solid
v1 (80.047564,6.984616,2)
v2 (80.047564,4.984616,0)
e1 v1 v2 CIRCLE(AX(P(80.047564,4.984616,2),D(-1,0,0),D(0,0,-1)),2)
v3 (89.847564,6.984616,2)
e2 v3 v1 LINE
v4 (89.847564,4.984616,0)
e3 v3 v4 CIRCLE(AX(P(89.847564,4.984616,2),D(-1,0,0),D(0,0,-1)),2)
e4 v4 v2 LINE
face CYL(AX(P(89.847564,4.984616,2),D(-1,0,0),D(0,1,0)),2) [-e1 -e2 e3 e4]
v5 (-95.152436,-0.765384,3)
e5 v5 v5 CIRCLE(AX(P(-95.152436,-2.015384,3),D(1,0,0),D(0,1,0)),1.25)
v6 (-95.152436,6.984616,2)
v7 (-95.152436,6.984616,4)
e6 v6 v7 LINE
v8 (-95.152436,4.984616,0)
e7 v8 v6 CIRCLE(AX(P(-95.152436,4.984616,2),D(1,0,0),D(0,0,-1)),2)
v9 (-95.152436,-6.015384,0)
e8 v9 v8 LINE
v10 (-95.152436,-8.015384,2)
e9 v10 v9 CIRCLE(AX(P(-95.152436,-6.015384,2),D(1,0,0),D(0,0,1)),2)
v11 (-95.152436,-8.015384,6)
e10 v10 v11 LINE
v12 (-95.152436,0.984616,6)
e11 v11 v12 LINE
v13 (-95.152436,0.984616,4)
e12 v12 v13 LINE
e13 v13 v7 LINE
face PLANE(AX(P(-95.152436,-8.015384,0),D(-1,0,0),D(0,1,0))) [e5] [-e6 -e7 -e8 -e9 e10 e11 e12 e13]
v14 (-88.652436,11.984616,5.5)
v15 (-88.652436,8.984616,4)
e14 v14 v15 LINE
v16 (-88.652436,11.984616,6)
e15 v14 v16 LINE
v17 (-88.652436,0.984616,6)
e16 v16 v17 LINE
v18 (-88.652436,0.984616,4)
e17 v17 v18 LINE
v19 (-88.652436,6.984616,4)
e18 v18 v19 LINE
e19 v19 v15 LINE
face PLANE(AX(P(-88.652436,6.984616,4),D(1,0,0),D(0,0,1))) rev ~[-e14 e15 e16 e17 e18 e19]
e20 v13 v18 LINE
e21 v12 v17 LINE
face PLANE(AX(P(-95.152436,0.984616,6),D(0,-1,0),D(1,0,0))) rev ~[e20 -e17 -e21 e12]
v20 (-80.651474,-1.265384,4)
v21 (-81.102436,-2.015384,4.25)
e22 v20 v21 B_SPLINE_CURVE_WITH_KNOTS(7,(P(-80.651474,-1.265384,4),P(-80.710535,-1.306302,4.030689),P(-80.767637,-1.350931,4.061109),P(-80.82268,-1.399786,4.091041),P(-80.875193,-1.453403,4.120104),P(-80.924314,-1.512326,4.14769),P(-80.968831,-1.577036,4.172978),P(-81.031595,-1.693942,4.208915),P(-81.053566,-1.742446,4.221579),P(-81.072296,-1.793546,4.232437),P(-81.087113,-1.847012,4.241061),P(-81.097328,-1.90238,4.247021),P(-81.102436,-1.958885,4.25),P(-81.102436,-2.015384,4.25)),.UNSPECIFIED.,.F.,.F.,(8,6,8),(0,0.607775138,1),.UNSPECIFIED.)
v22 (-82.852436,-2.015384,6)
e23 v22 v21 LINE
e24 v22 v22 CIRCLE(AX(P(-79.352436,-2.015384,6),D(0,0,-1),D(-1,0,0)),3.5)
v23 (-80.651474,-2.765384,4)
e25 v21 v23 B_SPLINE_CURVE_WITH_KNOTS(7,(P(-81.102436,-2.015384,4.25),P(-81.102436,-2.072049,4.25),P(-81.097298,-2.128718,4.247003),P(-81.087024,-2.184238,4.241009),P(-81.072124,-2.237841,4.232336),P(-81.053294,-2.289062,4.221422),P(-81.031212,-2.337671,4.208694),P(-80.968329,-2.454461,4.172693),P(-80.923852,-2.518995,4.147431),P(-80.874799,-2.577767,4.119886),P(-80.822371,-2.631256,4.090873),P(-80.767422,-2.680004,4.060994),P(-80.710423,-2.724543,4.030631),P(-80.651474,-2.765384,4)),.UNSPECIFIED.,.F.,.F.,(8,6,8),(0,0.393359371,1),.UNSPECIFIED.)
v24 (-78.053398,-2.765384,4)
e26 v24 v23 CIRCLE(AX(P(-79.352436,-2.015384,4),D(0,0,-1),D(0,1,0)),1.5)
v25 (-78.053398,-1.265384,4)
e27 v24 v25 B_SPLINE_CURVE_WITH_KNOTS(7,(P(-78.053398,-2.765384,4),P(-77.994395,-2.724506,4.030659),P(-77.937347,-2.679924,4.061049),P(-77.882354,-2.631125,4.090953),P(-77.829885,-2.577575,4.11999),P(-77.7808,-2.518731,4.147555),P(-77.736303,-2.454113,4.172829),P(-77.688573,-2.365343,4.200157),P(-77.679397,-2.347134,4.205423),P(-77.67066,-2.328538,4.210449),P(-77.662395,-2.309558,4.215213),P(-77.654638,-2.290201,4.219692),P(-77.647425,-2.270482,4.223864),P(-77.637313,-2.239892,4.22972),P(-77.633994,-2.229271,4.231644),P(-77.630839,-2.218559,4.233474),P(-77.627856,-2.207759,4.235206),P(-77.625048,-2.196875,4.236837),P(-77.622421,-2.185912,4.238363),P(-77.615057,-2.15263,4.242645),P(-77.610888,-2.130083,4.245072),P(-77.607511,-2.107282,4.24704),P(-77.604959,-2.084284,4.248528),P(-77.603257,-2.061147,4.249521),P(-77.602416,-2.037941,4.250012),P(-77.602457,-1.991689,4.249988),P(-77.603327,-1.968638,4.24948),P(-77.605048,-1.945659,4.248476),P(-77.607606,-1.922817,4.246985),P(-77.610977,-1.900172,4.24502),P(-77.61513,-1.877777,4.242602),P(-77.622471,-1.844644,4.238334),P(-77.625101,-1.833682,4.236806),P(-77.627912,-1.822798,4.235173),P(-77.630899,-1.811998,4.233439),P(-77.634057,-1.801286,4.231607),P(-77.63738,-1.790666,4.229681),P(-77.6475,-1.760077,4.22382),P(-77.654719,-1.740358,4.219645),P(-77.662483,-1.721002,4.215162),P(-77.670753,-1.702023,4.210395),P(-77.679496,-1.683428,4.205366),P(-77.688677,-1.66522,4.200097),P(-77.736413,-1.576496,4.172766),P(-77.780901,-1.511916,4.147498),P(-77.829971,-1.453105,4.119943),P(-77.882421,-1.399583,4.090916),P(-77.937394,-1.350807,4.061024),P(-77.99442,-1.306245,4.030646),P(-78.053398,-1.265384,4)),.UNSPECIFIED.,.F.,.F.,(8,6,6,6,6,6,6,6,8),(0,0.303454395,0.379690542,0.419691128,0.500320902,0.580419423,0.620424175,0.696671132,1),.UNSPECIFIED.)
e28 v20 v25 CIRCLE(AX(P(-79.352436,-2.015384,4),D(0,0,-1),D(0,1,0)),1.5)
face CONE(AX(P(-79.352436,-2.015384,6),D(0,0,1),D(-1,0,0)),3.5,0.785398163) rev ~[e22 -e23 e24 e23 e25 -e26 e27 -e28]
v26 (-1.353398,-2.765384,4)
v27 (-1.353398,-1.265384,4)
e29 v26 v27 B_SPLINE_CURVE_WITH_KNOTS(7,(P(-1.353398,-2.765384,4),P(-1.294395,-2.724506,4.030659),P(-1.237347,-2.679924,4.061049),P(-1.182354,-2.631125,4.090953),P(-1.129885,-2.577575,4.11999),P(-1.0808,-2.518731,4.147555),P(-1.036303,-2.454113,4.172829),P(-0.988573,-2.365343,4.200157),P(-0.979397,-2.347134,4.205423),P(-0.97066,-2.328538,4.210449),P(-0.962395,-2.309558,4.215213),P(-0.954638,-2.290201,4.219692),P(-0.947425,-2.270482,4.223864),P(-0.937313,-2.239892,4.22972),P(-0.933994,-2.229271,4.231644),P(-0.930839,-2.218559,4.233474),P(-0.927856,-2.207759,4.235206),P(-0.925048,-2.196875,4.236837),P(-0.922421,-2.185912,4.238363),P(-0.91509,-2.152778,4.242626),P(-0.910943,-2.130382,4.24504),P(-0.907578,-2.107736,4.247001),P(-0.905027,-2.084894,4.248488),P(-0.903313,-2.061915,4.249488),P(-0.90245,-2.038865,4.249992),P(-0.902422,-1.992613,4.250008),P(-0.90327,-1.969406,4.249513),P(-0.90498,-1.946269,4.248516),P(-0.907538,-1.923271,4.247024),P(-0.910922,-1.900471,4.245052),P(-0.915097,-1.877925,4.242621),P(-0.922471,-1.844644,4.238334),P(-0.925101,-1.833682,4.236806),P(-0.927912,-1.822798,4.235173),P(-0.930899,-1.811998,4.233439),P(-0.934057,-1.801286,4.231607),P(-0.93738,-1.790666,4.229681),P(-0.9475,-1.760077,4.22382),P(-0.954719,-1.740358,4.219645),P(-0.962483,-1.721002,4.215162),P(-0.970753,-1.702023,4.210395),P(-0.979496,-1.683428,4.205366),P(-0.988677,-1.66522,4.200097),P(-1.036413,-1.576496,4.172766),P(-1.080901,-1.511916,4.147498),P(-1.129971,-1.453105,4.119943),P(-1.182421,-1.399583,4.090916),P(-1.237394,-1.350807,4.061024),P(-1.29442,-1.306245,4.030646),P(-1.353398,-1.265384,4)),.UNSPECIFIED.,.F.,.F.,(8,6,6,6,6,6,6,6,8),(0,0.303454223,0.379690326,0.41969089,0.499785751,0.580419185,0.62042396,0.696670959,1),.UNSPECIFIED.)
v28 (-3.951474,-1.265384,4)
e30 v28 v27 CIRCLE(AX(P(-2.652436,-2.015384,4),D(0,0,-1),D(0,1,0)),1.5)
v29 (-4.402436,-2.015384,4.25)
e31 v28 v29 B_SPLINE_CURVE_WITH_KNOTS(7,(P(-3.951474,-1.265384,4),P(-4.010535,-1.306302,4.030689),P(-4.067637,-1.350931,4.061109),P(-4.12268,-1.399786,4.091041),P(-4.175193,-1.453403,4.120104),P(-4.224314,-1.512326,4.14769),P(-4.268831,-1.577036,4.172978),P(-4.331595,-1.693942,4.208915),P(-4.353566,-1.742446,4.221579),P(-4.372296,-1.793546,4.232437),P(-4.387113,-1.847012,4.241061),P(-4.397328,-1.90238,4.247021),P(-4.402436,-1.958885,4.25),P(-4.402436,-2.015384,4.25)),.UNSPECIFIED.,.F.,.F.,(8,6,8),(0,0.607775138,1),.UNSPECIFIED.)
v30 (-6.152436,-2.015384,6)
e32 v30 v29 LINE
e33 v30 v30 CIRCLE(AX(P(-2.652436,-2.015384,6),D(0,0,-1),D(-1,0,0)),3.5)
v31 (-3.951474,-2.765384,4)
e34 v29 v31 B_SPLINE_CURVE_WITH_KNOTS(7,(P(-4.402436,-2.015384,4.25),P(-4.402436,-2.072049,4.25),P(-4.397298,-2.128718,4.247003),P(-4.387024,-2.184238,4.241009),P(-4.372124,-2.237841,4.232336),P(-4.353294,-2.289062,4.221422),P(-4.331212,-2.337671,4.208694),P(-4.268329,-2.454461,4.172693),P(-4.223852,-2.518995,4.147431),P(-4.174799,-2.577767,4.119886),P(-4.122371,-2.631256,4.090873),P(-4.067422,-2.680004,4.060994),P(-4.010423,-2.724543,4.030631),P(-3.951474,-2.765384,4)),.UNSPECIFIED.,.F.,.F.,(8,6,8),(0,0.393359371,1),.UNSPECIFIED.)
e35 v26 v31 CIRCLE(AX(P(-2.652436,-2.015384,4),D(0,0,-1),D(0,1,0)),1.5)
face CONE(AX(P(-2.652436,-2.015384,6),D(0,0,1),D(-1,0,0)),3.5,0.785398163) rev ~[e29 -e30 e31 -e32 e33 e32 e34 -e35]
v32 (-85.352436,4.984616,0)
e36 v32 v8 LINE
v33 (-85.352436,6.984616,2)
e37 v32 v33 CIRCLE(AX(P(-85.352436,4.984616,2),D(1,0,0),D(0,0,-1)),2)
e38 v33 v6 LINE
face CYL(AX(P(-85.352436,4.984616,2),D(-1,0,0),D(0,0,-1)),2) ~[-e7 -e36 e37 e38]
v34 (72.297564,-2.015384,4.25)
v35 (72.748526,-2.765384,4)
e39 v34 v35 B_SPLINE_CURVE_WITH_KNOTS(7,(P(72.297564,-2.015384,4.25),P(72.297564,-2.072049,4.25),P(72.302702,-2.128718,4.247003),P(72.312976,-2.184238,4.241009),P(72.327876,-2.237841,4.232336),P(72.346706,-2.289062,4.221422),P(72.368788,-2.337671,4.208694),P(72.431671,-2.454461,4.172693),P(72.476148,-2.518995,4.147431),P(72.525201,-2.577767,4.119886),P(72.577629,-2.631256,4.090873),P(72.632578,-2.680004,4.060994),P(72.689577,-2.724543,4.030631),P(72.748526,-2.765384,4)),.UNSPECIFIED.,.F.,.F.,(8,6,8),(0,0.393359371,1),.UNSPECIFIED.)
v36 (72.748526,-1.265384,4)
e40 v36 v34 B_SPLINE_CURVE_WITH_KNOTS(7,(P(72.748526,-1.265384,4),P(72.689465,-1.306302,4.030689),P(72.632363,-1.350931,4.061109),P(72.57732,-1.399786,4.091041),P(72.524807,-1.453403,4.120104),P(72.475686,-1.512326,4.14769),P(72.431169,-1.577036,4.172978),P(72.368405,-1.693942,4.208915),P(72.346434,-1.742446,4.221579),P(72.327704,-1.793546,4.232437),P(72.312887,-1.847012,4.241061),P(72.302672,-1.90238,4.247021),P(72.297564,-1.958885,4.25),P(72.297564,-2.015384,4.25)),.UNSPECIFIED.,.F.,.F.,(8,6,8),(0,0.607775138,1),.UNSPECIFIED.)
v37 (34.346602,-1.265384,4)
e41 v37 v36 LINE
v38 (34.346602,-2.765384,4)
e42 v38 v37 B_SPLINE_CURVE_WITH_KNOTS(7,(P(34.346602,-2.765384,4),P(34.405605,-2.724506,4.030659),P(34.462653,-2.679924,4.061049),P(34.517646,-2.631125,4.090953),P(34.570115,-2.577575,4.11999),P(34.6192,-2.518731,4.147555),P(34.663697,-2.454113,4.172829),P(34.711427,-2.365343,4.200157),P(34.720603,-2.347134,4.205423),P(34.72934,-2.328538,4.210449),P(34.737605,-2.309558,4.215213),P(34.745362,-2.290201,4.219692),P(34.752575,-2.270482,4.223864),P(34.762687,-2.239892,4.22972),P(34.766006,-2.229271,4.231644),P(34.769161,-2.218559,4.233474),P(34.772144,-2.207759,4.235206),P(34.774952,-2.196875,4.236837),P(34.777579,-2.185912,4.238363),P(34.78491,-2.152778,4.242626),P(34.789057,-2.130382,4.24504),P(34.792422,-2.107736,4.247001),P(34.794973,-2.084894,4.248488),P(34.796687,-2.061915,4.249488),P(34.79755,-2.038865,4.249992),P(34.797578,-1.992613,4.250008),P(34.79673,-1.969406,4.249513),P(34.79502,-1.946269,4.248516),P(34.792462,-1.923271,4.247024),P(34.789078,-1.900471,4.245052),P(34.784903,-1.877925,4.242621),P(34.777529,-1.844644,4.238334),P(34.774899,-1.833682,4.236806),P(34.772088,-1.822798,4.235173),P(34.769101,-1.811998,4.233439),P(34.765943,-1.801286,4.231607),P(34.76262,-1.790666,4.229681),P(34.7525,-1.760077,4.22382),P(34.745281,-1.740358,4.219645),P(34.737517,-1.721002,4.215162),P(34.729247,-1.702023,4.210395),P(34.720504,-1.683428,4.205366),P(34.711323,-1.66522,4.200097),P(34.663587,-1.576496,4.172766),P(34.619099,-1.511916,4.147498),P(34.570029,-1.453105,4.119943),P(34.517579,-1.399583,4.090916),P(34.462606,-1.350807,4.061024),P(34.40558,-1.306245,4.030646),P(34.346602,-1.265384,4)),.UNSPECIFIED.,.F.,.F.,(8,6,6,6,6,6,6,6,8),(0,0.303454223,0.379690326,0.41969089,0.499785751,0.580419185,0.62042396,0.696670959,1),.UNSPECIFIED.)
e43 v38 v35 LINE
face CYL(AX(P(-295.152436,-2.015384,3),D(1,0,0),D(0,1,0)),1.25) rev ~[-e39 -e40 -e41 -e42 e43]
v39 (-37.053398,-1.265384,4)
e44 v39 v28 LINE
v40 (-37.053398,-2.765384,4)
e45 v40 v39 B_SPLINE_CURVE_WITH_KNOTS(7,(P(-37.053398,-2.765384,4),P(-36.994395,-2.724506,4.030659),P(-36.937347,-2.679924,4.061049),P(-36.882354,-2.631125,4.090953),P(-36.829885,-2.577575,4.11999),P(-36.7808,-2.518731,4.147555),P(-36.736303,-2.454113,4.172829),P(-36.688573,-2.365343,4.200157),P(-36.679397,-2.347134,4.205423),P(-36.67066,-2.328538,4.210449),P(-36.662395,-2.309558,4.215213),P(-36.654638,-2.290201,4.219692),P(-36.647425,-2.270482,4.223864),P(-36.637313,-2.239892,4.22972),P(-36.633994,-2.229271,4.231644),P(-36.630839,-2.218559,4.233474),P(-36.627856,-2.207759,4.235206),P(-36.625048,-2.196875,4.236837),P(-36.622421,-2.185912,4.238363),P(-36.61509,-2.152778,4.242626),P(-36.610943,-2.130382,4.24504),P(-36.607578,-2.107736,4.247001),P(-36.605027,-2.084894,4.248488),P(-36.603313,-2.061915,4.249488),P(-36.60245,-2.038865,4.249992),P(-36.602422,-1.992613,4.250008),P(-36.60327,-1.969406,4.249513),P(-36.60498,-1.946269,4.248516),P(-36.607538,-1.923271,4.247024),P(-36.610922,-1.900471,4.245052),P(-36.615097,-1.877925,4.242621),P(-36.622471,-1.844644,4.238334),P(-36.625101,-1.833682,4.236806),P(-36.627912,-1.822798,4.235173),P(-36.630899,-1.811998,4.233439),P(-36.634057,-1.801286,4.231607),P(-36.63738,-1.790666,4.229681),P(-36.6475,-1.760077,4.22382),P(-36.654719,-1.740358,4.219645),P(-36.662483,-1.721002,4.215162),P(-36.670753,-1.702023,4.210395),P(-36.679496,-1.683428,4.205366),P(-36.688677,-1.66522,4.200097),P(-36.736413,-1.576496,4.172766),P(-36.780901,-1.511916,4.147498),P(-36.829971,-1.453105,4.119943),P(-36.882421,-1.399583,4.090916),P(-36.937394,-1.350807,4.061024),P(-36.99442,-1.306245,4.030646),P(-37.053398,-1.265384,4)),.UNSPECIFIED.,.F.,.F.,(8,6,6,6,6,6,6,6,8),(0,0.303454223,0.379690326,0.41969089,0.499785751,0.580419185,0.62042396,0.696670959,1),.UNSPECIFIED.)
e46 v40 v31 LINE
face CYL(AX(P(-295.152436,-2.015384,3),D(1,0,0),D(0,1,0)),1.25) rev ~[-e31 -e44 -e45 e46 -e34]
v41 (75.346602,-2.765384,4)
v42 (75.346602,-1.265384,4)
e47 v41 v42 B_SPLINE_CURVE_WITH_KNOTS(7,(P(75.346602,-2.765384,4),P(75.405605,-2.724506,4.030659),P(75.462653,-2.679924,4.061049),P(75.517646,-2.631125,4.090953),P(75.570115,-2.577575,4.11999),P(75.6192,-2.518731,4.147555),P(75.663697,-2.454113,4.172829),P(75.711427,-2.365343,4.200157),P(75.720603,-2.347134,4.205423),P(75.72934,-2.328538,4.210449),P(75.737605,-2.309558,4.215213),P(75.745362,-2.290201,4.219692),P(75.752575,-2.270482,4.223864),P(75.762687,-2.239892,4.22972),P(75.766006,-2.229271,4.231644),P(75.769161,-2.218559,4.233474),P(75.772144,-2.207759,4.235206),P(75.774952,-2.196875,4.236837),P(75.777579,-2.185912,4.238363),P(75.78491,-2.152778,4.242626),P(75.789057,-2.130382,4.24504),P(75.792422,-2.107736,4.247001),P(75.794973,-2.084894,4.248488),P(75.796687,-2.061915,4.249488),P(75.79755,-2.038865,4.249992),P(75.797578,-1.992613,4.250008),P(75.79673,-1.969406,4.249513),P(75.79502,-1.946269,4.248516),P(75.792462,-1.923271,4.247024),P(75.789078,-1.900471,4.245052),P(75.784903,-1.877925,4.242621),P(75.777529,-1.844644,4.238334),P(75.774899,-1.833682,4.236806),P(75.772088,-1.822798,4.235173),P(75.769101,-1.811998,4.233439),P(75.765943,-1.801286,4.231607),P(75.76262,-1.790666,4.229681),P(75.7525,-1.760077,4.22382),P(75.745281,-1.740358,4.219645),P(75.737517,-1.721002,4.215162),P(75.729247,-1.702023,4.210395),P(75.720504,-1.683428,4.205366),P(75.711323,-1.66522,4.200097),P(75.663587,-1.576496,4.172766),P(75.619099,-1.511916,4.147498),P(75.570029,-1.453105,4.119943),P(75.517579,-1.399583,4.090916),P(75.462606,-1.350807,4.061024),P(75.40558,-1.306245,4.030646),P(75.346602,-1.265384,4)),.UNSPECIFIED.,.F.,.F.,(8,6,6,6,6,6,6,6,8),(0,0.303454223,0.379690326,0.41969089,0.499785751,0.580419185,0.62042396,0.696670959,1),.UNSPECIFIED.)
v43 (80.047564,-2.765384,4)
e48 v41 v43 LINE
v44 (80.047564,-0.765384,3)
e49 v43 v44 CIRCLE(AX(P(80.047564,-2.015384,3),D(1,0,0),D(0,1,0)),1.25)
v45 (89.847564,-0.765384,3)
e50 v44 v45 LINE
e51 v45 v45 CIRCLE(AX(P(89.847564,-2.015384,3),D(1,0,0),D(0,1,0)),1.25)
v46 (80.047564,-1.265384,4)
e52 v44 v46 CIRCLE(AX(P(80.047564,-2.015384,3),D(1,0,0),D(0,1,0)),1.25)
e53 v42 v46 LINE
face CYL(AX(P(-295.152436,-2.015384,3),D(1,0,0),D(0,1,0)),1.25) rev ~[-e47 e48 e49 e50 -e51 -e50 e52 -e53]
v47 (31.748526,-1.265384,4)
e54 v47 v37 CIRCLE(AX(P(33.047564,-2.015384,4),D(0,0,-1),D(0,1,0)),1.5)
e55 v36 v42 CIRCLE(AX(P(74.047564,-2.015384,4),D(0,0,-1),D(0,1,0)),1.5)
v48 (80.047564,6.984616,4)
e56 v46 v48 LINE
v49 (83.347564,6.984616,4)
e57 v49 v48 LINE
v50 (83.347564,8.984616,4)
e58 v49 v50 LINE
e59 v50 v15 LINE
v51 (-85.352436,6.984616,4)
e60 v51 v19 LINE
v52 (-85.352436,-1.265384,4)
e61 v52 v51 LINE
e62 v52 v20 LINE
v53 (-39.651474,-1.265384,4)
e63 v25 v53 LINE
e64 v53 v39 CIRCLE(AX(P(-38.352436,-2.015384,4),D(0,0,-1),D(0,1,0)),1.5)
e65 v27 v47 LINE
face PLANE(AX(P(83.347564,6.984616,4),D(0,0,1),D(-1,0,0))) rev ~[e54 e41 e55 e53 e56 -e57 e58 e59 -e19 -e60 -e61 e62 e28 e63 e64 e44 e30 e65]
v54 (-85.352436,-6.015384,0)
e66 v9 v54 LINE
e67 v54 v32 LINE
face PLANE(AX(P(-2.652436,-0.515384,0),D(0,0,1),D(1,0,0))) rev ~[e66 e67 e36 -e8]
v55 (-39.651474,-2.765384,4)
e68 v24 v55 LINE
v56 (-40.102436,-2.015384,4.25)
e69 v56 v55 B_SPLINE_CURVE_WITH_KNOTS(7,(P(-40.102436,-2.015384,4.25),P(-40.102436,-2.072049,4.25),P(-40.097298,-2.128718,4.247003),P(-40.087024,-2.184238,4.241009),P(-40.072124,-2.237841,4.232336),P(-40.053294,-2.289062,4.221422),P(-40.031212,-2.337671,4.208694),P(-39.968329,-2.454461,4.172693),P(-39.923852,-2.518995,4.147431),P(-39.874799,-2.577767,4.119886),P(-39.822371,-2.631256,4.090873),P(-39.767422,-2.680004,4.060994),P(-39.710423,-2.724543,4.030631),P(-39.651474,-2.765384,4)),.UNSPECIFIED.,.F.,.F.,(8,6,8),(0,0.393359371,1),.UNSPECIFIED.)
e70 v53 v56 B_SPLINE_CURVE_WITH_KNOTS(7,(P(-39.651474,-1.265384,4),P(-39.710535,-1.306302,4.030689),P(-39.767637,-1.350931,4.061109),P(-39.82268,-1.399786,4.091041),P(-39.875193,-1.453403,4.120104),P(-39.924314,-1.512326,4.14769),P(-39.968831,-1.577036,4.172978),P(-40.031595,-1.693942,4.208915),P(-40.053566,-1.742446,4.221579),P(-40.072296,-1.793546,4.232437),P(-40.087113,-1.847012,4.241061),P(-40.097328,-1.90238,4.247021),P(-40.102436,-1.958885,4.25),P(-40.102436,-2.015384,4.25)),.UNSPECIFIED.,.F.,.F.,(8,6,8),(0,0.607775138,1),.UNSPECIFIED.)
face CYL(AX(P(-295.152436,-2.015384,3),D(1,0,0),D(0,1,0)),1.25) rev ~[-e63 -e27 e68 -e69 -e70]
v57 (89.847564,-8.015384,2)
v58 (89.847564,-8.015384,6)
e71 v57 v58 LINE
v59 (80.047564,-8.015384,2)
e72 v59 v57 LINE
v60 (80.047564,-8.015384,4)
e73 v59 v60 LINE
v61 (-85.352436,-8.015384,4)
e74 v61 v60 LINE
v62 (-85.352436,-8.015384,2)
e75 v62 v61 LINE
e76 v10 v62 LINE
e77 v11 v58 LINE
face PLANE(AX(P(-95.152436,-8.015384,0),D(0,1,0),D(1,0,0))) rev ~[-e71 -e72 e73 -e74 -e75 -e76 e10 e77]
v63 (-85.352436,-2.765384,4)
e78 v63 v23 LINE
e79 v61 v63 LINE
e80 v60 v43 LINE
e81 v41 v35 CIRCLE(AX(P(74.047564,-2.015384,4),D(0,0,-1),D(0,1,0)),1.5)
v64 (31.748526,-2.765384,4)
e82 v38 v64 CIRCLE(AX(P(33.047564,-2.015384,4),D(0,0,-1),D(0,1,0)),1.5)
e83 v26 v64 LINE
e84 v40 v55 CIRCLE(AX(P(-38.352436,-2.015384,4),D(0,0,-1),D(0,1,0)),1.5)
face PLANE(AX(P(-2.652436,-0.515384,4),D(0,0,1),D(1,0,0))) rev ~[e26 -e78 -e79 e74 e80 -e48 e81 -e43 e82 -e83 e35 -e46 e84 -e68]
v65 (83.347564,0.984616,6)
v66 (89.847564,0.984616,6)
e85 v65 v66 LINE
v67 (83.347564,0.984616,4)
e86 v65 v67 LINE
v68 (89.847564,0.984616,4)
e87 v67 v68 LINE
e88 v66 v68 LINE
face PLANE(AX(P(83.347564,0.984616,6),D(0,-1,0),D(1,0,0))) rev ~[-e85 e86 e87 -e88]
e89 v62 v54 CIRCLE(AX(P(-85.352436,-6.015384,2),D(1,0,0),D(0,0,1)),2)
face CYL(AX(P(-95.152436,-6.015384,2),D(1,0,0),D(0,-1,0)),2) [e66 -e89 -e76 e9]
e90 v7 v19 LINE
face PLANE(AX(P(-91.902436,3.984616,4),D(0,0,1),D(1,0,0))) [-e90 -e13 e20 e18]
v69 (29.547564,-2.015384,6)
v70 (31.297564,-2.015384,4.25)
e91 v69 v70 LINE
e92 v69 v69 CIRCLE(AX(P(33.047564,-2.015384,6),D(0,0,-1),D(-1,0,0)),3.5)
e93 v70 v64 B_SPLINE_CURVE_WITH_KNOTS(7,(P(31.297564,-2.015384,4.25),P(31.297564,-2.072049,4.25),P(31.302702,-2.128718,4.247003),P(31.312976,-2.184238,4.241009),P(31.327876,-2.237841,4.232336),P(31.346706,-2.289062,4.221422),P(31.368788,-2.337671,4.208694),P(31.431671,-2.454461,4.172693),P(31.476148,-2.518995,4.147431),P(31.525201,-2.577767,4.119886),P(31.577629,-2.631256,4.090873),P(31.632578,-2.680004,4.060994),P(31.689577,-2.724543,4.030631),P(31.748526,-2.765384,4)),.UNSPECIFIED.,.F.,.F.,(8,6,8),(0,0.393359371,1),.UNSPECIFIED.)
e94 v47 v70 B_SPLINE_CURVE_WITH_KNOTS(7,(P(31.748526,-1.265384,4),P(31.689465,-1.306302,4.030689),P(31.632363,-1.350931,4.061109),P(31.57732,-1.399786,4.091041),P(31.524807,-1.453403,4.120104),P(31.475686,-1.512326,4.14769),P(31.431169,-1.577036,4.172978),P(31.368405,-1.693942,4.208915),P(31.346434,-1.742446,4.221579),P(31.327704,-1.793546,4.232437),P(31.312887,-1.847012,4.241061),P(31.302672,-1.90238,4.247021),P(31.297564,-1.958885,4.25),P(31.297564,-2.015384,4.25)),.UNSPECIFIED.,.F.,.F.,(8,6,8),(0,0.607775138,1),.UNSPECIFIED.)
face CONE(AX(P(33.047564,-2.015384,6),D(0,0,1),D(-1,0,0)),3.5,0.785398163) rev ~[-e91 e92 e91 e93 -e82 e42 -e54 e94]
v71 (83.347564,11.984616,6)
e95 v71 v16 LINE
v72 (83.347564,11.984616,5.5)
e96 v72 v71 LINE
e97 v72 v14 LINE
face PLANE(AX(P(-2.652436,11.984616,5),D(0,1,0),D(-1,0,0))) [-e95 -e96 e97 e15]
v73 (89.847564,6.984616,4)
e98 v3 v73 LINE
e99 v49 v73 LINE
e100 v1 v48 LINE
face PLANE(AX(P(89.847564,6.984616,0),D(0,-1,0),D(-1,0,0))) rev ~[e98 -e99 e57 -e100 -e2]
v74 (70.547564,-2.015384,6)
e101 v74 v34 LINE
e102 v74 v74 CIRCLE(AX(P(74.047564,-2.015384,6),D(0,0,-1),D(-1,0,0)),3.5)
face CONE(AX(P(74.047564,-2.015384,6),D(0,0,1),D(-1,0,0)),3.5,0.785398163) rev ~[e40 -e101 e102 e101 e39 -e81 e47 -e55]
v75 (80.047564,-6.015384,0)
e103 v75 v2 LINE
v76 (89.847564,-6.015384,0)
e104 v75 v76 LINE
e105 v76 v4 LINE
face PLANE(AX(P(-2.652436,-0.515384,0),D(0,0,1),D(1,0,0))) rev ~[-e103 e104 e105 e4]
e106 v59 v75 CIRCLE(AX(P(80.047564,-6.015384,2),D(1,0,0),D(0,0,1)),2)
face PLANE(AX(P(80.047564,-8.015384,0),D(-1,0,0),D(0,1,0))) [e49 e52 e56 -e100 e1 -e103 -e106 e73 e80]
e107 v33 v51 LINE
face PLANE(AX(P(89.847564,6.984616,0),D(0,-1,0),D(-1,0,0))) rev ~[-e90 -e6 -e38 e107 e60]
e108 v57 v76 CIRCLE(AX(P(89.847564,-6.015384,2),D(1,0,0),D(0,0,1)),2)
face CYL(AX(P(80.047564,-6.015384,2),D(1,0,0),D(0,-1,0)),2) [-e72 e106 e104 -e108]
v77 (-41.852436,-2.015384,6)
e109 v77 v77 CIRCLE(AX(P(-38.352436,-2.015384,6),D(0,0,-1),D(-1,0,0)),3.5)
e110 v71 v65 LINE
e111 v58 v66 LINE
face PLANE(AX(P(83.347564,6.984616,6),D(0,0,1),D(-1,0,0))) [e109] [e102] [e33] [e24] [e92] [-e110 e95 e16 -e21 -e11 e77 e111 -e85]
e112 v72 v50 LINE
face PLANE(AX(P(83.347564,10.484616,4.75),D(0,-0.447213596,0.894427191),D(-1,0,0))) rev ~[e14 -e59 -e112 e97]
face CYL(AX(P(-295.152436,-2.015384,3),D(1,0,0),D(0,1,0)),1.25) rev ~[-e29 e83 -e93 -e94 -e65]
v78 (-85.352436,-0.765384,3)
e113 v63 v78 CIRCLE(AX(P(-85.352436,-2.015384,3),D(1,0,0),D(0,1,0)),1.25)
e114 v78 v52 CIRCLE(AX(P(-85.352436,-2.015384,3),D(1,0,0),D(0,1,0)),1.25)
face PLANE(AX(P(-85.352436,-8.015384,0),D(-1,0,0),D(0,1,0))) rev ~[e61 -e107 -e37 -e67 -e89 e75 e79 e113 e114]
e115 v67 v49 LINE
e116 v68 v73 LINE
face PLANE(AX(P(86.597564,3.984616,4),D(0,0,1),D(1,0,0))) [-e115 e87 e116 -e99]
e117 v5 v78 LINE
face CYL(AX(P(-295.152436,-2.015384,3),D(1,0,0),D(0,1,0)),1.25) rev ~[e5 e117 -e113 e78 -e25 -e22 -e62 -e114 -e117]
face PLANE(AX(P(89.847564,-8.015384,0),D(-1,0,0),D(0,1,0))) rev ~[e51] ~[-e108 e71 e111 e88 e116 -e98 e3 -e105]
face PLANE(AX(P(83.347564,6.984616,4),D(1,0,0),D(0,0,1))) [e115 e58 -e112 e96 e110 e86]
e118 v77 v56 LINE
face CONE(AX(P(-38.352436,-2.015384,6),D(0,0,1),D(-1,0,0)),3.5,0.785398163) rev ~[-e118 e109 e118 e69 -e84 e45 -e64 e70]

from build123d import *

# Parameters (mm, degrees)
F0_W            = 165.4
F0_H            = 15
F0_W_2          = 9.8
F1_DEPTH        = 6
F2_DEPTH        = 4
F4_D            = 2.5
F4_DEPTH        = 200
F5_R            = 2
F7_W            = 6.5
F7_H            = 6
F8_DEPTH        = 2
F9_W            = 172
F9_H            = 2
F10_DEPTH       = 5
F11_SIZE2       = 3
F11_SIZE        = 1.5
F13_D           = 3
F13_DEPTH       = 4
F13_CSINK_D     = 7
F13_CSINK_ANGLE = 90


with BuildPart() as f1:
    # F0 (on Top) → F1 (new body)
    with BuildSketch(Plane.XY):
        with Locations((-2.652436, -0.515384)):
            Rectangle(F0_W, F0_H)
        with Locations((-90.252436, -0.515384)):
            Rectangle(F0_W_2, F0_H)
        with Locations((84.947564, -0.515384)):
            Rectangle(F0_W_2, F0_H)
    extrude(amount=F1_DEPTH)

    # F0 (on Top) → F2 (cut)
    with BuildSketch(Plane.XY):
        with Locations((-2.652436, -0.515384)):
            Rectangle(F0_W, F0_H)
    extrude(amount=F2_DEPTH, mode=Mode.SUBTRACT)

    # F4
    with Locations(Plane(origin=(-95.152436, 0, 0), x_dir=(0, -1, 0), z_dir=(-1, 0, 0))):
        with Locations((2.015384, 3)):
            Hole(F4_D / 2, depth=F4_DEPTH)

    # F5
    f5_edges = [f1.edges().sort_by_distance(p)[0] for p in [
        (84.947564, 6.984616, 0),
        (-90.252436, 6.984616, 0),
        (-90.252436, -8.015384, 0),
        (84.947564, -8.015384, 0),
    ]]
    fillet(f5_edges, radius=F5_R)

    # F7 (on face) → F8 (cut)
    with BuildSketch(Plane.XY.offset(6)):
        with Locations((-91.902436, 3.984616)):
            Rectangle(F7_W, F7_H)
        with Locations((86.597564, 3.984616)):
            Rectangle(F7_W, F7_H)
    extrude(amount=-F8_DEPTH, mode=Mode.SUBTRACT)

    # F9 (on face) → F10 (join)
    with BuildSketch(Plane(origin=(0, 6.984616, 0), x_dir=(-1, 0, 0), z_dir=(0, 1, 0))):
        with Locations((2.652436, 5)):
            Rectangle(F9_W, F9_H)
    extrude(amount=F10_DEPTH)

    # F11
    f11_edges = [f1.edges().sort_by_distance(p)[0] for p in [
        (-2.652436, 11.984616, 4),
    ]]
    chamfer(f11_edges, length=F11_SIZE, length2=F11_SIZE2)

    # F13
    with Locations(Plane.XY.offset(6)):
        with Locations((-79.352436, -2.015384), (-38.352436, -2.015384), (-2.652436, -2.015384), (33.047564, -2.015384), (74.047564, -2.015384)):
            CounterSinkHole(F13_D / 2, F13_CSINK_D / 2, depth=F13_DEPTH, counter_sink_angle=F13_CSINK_ANGLE)


solid = f1.part
